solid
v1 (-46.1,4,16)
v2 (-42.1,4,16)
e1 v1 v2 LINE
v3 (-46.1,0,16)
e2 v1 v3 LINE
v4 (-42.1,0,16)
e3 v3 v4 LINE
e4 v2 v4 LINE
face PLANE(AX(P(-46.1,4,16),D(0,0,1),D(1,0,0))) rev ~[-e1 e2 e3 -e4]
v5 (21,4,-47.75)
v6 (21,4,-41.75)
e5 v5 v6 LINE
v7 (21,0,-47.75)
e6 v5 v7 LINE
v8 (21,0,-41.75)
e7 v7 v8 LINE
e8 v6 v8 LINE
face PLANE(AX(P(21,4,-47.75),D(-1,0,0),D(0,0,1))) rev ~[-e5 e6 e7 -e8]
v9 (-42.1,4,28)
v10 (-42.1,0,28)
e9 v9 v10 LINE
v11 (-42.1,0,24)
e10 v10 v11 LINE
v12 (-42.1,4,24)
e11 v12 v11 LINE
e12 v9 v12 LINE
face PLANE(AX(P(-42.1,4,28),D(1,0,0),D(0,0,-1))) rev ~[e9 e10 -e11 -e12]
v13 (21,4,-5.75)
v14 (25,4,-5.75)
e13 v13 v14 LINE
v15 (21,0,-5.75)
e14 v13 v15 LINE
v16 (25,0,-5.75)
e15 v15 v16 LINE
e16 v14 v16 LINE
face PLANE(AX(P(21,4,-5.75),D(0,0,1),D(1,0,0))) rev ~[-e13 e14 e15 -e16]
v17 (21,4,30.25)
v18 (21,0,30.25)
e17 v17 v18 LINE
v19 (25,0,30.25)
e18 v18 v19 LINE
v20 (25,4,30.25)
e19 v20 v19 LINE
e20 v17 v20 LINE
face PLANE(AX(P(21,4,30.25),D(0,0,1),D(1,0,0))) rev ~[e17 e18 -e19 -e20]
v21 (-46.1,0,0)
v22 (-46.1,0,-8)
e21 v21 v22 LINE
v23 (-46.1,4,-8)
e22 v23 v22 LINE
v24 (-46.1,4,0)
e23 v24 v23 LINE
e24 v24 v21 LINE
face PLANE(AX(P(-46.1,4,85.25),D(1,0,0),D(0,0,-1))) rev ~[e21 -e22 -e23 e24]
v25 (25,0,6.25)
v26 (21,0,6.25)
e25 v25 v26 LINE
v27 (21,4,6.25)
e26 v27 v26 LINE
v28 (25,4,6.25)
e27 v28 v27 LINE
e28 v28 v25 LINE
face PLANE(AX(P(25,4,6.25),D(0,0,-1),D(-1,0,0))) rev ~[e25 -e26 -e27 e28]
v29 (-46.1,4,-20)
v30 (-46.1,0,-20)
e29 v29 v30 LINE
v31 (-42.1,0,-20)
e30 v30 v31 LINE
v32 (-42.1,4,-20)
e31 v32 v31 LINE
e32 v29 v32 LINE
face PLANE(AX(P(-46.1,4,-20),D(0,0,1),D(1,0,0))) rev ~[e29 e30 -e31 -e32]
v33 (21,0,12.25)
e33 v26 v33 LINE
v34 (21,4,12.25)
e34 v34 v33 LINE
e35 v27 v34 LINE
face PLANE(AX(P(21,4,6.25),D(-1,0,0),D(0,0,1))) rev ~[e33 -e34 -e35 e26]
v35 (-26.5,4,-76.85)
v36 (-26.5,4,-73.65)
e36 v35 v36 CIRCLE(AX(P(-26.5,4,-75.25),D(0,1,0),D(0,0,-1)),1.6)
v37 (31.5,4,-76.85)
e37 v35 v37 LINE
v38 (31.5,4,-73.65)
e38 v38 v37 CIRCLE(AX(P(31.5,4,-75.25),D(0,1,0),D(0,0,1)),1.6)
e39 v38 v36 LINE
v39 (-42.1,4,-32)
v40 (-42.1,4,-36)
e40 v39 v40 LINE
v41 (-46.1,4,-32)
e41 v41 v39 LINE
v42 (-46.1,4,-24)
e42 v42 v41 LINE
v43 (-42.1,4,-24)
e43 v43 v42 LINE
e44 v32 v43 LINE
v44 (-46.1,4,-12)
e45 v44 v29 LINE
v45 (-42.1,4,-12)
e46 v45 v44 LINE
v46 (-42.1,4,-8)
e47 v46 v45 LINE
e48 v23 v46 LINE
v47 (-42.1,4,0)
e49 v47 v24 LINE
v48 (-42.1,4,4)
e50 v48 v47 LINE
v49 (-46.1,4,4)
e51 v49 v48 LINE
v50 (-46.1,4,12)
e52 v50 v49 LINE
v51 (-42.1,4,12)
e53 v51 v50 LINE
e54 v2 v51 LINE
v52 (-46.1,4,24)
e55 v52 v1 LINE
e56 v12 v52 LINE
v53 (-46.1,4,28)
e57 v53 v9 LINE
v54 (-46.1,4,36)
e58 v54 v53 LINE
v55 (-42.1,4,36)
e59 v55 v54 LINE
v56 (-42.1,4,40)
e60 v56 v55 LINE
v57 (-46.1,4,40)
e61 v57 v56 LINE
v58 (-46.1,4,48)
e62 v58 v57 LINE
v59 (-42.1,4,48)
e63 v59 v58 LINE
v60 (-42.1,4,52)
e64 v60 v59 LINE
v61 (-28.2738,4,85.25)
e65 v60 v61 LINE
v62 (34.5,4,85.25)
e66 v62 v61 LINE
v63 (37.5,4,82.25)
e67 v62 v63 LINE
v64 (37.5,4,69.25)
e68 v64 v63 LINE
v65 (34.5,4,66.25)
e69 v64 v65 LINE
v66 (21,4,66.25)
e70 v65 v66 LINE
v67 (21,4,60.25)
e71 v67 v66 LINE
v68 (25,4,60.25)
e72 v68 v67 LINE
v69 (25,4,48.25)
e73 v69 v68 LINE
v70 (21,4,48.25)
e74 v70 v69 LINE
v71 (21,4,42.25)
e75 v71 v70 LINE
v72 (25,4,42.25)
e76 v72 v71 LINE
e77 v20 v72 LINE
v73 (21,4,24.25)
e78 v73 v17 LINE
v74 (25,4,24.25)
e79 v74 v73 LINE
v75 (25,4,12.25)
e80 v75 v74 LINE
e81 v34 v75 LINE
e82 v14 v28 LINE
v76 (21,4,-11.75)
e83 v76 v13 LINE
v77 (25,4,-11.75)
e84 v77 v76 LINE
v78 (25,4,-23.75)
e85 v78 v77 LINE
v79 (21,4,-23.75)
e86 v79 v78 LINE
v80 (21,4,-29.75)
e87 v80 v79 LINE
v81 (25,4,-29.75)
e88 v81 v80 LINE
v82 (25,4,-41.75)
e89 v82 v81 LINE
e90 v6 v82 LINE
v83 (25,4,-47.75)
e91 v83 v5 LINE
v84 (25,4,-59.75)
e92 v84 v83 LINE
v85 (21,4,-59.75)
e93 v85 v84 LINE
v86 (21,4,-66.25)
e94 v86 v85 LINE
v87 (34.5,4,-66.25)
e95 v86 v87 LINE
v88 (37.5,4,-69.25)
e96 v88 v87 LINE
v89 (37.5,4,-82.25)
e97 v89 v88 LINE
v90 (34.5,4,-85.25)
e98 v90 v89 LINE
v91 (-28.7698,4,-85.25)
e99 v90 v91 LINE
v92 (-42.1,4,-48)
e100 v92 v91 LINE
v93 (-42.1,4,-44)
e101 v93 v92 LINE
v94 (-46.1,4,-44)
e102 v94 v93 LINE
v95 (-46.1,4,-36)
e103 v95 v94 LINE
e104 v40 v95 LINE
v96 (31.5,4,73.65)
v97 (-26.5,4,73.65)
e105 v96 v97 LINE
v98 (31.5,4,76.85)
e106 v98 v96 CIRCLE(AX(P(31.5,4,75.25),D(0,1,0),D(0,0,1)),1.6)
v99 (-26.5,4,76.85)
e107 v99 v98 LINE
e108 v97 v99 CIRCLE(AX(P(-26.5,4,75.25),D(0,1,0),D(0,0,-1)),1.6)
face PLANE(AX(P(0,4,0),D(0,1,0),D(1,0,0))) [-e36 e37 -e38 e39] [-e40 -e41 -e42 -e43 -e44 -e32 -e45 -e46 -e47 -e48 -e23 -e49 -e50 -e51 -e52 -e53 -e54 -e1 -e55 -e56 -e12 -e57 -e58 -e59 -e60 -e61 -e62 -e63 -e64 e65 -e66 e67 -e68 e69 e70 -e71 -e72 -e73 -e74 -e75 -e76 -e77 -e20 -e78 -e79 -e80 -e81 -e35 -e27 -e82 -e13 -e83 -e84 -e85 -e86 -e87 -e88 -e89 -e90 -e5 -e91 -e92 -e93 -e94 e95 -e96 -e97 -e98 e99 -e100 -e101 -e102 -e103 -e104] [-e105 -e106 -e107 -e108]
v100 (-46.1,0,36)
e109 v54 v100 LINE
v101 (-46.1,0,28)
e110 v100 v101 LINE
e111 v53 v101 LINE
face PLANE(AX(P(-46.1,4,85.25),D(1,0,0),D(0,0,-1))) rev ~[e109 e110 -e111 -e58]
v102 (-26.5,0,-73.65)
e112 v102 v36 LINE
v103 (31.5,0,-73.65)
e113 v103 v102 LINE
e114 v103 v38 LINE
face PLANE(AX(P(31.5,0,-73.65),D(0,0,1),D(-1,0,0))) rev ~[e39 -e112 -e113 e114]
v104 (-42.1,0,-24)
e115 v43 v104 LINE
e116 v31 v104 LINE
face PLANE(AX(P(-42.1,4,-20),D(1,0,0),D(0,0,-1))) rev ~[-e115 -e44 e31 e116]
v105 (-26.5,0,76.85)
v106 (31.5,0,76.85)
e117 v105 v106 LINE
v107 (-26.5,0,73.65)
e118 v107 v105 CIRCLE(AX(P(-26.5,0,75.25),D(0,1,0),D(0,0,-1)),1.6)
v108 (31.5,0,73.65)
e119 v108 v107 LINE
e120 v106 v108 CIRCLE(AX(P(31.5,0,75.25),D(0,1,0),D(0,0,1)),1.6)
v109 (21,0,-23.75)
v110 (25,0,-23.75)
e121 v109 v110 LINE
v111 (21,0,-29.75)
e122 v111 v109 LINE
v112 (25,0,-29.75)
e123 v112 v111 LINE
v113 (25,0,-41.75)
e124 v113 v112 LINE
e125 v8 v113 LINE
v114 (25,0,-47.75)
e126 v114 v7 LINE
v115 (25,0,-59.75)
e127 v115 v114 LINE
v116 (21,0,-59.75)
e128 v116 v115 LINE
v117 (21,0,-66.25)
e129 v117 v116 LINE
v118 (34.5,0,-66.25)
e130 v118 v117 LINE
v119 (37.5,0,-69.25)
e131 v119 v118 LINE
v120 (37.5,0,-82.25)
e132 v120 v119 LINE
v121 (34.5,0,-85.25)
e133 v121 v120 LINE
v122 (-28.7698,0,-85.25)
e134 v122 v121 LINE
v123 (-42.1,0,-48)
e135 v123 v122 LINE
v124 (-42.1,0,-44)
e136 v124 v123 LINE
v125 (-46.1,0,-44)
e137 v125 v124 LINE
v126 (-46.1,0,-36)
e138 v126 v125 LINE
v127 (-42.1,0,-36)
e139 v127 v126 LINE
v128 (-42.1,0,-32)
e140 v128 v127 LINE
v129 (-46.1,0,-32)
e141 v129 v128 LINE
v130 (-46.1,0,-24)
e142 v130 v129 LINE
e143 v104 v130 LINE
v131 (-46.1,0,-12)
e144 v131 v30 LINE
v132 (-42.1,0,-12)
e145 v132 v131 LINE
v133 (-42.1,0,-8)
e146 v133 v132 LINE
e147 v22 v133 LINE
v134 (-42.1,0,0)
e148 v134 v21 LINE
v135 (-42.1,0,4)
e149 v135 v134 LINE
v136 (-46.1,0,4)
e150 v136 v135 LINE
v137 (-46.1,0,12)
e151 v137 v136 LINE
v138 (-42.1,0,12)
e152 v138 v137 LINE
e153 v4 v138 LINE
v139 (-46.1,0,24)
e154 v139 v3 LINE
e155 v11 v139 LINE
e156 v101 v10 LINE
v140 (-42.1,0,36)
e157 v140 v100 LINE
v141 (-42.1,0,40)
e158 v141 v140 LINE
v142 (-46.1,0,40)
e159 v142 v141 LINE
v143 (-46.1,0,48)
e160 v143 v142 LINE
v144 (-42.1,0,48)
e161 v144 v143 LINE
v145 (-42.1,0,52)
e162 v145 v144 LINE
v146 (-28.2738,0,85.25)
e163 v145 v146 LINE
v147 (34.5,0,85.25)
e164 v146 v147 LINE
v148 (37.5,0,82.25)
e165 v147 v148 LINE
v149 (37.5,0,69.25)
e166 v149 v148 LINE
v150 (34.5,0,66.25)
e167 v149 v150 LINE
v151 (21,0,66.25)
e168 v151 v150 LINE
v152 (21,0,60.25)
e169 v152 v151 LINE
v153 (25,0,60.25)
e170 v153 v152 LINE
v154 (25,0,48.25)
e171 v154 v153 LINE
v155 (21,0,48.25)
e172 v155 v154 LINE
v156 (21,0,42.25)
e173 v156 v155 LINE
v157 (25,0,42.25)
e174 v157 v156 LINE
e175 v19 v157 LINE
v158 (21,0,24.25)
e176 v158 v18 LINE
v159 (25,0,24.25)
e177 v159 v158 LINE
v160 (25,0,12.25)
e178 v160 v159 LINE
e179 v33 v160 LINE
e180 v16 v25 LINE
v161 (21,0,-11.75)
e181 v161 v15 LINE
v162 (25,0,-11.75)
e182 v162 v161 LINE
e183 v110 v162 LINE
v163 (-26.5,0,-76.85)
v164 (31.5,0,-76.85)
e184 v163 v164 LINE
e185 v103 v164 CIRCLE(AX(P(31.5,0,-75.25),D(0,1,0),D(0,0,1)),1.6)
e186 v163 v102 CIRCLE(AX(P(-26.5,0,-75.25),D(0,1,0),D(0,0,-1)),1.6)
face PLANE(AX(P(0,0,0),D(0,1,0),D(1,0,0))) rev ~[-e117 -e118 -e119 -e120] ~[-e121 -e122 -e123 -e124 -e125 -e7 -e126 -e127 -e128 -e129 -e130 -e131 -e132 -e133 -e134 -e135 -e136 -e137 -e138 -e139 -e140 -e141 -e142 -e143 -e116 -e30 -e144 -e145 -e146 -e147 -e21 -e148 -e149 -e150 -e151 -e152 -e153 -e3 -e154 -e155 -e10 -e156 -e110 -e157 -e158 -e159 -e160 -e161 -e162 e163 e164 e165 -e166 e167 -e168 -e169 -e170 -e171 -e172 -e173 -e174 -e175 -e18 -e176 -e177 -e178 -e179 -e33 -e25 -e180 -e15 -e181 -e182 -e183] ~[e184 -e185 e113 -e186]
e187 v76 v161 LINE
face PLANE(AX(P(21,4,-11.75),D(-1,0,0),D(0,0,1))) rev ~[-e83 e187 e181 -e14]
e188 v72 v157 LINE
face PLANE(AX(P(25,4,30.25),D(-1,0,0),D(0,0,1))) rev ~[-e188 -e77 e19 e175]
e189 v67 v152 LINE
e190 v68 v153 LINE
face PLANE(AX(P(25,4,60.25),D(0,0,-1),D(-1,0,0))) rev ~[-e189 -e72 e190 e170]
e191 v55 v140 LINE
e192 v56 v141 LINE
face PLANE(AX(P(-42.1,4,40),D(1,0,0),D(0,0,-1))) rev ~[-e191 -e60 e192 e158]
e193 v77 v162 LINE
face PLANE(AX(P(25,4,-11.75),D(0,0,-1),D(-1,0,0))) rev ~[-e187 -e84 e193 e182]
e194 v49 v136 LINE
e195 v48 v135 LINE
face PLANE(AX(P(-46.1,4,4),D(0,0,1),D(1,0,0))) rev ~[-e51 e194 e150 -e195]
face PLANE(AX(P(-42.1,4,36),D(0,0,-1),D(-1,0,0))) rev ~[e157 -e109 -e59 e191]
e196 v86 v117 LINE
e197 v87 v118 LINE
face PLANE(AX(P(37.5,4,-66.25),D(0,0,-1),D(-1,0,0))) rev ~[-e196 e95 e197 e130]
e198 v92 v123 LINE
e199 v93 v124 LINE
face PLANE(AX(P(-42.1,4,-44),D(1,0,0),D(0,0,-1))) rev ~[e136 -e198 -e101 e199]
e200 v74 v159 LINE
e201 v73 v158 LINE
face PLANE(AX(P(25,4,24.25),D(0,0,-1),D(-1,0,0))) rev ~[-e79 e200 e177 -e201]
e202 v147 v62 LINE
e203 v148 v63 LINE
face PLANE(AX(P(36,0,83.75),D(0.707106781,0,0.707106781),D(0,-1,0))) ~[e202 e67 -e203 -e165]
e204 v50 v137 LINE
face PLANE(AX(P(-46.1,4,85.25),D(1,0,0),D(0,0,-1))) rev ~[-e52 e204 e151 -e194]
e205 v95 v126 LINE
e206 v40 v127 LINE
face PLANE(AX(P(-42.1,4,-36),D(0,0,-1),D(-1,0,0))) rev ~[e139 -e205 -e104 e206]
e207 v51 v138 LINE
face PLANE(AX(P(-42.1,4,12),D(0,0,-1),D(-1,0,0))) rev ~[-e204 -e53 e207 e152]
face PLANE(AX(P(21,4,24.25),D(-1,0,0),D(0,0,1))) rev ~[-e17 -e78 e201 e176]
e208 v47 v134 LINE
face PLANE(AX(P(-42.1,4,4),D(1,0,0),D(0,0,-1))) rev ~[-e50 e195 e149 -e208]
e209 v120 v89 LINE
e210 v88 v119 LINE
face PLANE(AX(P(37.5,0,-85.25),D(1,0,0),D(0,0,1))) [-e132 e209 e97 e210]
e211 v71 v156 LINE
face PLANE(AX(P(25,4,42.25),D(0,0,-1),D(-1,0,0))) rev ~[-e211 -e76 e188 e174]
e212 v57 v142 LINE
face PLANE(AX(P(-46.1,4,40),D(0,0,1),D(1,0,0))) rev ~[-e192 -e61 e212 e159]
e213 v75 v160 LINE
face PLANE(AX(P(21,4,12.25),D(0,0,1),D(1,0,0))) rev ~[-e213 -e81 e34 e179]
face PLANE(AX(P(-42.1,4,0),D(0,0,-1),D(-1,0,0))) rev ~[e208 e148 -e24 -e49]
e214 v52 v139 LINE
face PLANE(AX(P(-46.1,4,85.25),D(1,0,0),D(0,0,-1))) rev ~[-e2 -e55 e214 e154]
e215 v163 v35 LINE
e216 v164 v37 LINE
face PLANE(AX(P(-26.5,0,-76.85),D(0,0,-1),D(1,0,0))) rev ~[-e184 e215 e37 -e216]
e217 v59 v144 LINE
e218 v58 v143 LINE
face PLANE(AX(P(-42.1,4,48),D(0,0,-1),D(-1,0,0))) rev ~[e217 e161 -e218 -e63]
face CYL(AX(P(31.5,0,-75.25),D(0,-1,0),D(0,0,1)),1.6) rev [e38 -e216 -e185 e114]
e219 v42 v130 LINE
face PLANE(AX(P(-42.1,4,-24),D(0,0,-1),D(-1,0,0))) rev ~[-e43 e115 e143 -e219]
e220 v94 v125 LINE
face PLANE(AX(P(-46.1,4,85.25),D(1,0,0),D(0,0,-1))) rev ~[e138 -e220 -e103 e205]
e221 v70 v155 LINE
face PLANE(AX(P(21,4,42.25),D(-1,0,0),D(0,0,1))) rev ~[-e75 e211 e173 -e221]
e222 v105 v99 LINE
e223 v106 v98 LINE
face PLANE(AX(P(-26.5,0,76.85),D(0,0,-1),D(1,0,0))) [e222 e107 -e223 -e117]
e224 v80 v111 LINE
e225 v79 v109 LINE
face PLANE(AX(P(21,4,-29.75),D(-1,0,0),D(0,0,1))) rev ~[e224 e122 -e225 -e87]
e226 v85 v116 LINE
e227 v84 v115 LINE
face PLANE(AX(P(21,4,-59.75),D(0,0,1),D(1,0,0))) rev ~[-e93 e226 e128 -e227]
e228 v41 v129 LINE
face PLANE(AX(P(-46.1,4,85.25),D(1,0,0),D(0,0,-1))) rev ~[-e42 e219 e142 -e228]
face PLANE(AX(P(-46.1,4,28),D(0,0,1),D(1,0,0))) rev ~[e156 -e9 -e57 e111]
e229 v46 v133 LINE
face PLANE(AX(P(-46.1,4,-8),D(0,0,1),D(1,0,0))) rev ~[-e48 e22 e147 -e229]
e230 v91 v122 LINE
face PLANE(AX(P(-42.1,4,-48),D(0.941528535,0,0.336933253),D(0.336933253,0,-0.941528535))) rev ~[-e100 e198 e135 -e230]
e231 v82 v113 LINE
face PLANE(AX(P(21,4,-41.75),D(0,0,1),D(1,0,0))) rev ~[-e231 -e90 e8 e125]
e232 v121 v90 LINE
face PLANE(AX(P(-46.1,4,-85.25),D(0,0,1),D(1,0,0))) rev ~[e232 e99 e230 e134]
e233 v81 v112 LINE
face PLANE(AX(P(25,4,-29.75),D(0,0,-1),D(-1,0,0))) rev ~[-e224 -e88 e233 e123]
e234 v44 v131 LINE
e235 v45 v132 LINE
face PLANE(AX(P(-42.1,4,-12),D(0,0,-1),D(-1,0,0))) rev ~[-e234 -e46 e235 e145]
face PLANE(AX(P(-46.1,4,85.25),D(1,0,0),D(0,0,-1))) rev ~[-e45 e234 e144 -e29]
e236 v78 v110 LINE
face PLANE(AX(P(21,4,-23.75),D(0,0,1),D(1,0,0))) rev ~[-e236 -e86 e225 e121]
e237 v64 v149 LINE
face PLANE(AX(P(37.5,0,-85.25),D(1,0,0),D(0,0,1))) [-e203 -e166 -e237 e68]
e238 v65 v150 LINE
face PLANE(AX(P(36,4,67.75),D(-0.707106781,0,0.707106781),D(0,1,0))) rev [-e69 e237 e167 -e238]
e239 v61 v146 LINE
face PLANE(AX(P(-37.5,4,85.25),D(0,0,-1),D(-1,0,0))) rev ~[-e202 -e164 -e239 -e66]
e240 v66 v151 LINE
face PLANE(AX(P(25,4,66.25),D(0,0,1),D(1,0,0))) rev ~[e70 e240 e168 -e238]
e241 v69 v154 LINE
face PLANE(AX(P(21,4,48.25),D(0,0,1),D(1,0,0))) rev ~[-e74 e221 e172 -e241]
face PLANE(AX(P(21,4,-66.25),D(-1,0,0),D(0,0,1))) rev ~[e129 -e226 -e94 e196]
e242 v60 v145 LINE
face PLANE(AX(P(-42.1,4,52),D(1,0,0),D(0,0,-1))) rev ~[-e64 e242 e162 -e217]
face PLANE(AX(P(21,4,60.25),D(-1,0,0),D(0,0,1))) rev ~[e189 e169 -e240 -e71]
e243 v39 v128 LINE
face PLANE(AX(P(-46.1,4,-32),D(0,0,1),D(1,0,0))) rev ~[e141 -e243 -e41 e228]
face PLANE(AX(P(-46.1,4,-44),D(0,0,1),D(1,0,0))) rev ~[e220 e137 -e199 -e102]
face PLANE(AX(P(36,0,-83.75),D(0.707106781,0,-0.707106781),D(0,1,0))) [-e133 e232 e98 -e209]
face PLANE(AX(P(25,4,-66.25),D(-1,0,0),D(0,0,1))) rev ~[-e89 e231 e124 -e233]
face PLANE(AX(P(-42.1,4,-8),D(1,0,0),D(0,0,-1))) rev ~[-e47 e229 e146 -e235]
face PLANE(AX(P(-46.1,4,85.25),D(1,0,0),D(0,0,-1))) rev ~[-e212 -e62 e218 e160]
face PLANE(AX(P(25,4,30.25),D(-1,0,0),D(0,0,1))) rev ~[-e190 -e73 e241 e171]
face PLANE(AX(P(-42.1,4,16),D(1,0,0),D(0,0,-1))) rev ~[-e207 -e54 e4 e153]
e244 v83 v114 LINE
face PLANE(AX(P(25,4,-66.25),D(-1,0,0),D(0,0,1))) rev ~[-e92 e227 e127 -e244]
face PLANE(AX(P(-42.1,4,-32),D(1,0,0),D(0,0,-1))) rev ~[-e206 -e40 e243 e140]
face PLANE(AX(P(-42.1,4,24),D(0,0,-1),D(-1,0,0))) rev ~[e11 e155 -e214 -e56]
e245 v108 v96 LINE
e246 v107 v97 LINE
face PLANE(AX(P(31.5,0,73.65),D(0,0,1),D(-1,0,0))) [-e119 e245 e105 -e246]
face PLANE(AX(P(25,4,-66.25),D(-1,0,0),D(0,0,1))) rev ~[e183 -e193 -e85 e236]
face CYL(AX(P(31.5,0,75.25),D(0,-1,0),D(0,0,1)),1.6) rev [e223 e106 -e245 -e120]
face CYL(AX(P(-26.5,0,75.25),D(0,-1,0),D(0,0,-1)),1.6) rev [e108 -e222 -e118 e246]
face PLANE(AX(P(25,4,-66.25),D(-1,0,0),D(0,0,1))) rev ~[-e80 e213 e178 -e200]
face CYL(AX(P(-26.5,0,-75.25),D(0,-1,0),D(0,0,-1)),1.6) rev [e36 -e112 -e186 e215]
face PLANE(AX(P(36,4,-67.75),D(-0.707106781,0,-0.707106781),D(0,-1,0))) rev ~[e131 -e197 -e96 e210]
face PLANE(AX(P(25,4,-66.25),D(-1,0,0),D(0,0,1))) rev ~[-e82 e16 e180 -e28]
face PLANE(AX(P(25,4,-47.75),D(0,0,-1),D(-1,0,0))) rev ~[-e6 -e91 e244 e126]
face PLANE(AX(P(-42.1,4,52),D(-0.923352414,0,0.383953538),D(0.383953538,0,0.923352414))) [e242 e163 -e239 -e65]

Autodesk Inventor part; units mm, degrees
ref_plane "YZ Plane" through (0, 0, 0) normal (1, 0, 0) x (0, 1, 0)
ref_plane "XZ Plane" through (0, 0, 0) normal (0, 1, 0) x (-1, 0, 0)
ref_plane "XY Plane" through (0, 0, 0) normal (0, 0, 1) x (1, 0, 0)
sketch "Эскиз1" plane through (0, 0, 0) normal (0, 1, 0) x (-1, 0, 0)
  line L0 (-37.5, 85.25) -> (37.5, 85.25)
  line L1 (37.5, 85.25) -> (37.5, -85.25)
  line L2 (37.5, -85.25) -> (-37.5, -85.25)
  line L3 (-37.5, -85.25) -> (-37.5, 85.25)
  line L4 (-37.5, 85.25) -> (37.5, -85.25) construction
  line L5 (37.5, 85.25) -> (-37.5, -85.25) construction
  circle A0 centre (21.5, 75.25) radius 1.6 construction
  circle A1 centre (-26.5, 75.25) radius 1.6 construction
  line L6 (37.5, 0) -> (0, 0) construction
  line L7 (-37.5, -85.25) -> (37.5, 85.25) construction
  circle A2 centre (21.5, -75.25) radius 1.6 construction
  circle A3 centre (-26.5, -75.25) radius 1.6 construction
  line L8 (37.5, 75.25) -> (-37.5, 75.25) construction
  line L9 (28.1, 75.25) -> (-33.1, 75.25) construction
  line L10 (26.5, 76.85) -> (-31.5, 76.85)
  line L11 (-31.5, 73.65) -> (26.5, 73.65)
  arc A4 (26.5, 73.65) -> (26.5, 76.85) centre (26.5, 75.25) ccw
  arc A5 (-31.5, 76.85) -> (-31.5, 73.65) centre (-31.5, 75.25) ccw
  line L12 (26.5, -76.85) -> (-31.5, -76.85)
  line L13 (-31.5, -73.65) -> (26.5, -73.65)
  arc A6 (26.5, -76.85) -> (26.5, -73.65) centre (26.5, -75.25) ccw
  arc A7 (-31.5, -73.65) -> (-31.5, -76.85) centre (-31.5, -75.25) ccw
  point P0 (-2.5, 75.25)
  point P1 (-33.1, -75.25)
  dimension "d0" = 170.5
  dimension "d1" = 75
  dimension "d2" = 3.2
  dimension "d4" = 10
  dimension "d5" = 3.2
  dimension "d7" = 10
  dimension "d29" = 48
  dimension "d30" = 3.2
  dimension "d32" = 5
  dimension "d33" = 5
  dimension "d59" = 6
  dimension "d60" = 10
extrude "Выдавливание1" add sketch "Эскиз1" along normal blind 4
sketch "Эскиз2" plane through (0, 4, 0) normal (0, 1, 0) x (1, 0, 0)
  line L0 (33, 66.25) -> (33, -66.25) construction
  line L1 (-37.5, -85.25) -> (37.5, -85.25) projected
  line L2 (37.5, 85.25) -> (-37.5, 85.25) projected
  line L3 (21, -66.25) -> (25, -66.25)
  line L4 (25, -66.25) -> (25, -60.25)
  line L5 (25, -60.25) -> (21, -60.25)
  line L6 (21, -60.25) -> (21, -66.25)
  line L7 (21, -48.25) -> (25, -48.25)
  line L8 (21, -42.25) -> (21, -48.25)
  line L9 (25, -48.25) -> (25, -42.25)
  line L10 (25, -42.25) -> (21, -42.25)
  line L11 (21, -30.25) -> (25, -30.25)
  line L12 (21, -24.25) -> (21, -30.25)
  line L13 (25, -30.25) -> (25, -24.25)
  line L14 (25, -24.25) -> (21, -24.25)
  line L15 (21, -12.25) -> (25, -12.25)
  line L16 (21, -6.25) -> (21, -12.25)
  line L17 (25, -12.25) -> (25, -6.25)
  line L18 (25, -6.25) -> (21, -6.25)
  line L19 (21, 5.75) -> (25, 5.75)
  line L20 (21, 11.75) -> (21, 5.75)
  line L21 (25, 5.75) -> (25, 11.75)
  line L22 (25, 11.75) -> (21, 11.75)
  line L23 (21, 23.75) -> (25, 23.75)
  line L24 (21, 29.75) -> (21, 23.75)
  line L25 (25, 23.75) -> (25, 29.75)
  line L26 (25, 29.75) -> (21, 29.75)
  line L27 (21, 41.75) -> (25, 41.75)
  line L28 (21, 47.75) -> (21, 41.75)
  line L29 (25, 41.75) -> (25, 47.75)
  line L30 (25, 47.75) -> (21, 47.75)
  line L31 (21, 59.75) -> (25, 59.75)
  line L32 (25, 59.75) -> (25, 66.25)
  line L33 (25, 66.25) -> (21, 66.25)
  line L34 (21, 66.25) -> (21, 59.75)
  point P0 (27, -66.25)
  dimension "d14" = 19
  dimension "d16" = 4
  dimension "d17" = 6
  dimension "d20" = 18
  dimension "d34" = 4
  dimension "d35" = 6.5
  dimension "d36" = 12
extrude "Выдавливание2" cut sketch "Эскиз2" against normal blind 10
sketch "Эскиз3" plane through (0, 4, 0) normal (0, 1, 0) x (1, 0, 0)
  line L0 (37.5, -85.25) -> (37.5, 85.25) projected
  line L1 (37.5, 66.25) -> (25, 66.25)
  line L2 (25, 66.25) -> (25, -66.25)
  line L3 (25, -66.25) -> (37.5, -66.25)
  line L4 (37.5, -66.25) -> (37.5, 66.25)
  line L5 (-26.5, -73.65) -> (31.5, -73.65) projected
  line L6 (31.5, 73.65) -> (-26.5, 73.65) projected
  line L7 (25, -24.25) -> (25, -30.25) projected
  point P0 (0, 0)
  point P1 (31.25, 66.25)
  point P2 (25, -27.25)
  point P3 (37.5, -66.25)
  point P4 (25, -66.25)
  point P5 (25, 66.25)
  dimension "d39" = 0
extrude "Выдавливание3" cut sketch "Эскиз3" against normal blind 10
chamfer "Фаска1" distance 3 angle 45 4 edges at (37.5, 2, 66.25) (37.5, 2, -66.25) (37.5, 2, -85.25) (37.5, 2, 85.25)
sketch "Эскиз5" plane through (0, 4, 0) normal (0, 1, 0) x (1, 0, 0)
  line L0 (-37.5, 85.25) -> (-37.5, -85.25) projected
  line L1 (-37.5, -85.25) -> (-46.1, -85.25)
  line L2 (-46.1, -85.25) -> (-46.1, 85.25)
  line L3 (-46.1, 85.25) -> (-37.5, 85.25)
  line L4 (-37.5, 85.25) -> (-37.5, -85.25)
  point P0 (0, 0)
  dimension "d61" = 8.6
extrude "Выдавливание5" add sketch "Эскиз5" against normal blind 4
sketch "Эскиз6" plane through (0, 4, 0) normal (0, 1, 0) x (1, 0, 0)
  line L0 (-46.1, -60) -> (-42.1, -60) construction
  line L1 (-42.1, 60) -> (-46.1, 60) construction
  line L2 (-46.1, 60) -> (-46.1, -60) construction
  line L3 (-46.1, -60) -> (-42.1, 60) construction
  line L4 (-42.1, -60) -> (-46.1, 60) construction
  line L5 (-46.1, 85.25) -> (-46.1, -85.25) construction
  line L6 (-42.1, -48) -> (-46.1, -48)
  line L7 (-46.1, -48) -> (-46.1, -52)
  line L8 (-46.1, -52) -> (-42.1, -52)
  line L9 (-42.1, -52) -> (-42.1, -48)
  line L10 (-42.1, -40) -> (-42.1, -36)
  line L11 (-46.1, -40) -> (-42.1, -40)
  line L12 (-46.1, -36) -> (-46.1, -40)
  line L13 (-42.1, -36) -> (-46.1, -36)
  line L14 (-42.1, -28) -> (-42.1, -24)
  line L15 (-46.1, -28) -> (-42.1, -28)
  line L16 (-46.1, -24) -> (-46.1, -28)
  line L17 (-42.1, -24) -> (-46.1, -24)
  line L18 (-42.1, -16) -> (-42.1, -12)
  line L19 (-46.1, -16) -> (-42.1, -16)
  line L20 (-46.1, -12) -> (-46.1, -16)
  line L21 (-42.1, -12) -> (-46.1, -12)
  line L22 (-42.1, -4) -> (-42.1, 0)
  line L23 (-46.1, -4) -> (-42.1, -4)
  line L24 (-46.1, 0) -> (-46.1, -4)
  line L25 (-42.1, 0) -> (-46.1, 0)
  line L26 (-42.1, 8) -> (-42.1, 12)
  line L27 (-46.1, 8) -> (-42.1, 8)
  line L28 (-46.1, 12) -> (-46.1, 8)
  line L29 (-42.1, 12) -> (-46.1, 12)
  line L30 (-42.1, 20) -> (-42.1, 24)
  line L31 (-46.1, 20) -> (-42.1, 20)
  line L32 (-46.1, 24) -> (-46.1, 20)
  line L33 (-42.1, 24) -> (-46.1, 24)
  line L34 (-42.1, 32) -> (-42.1, 36)
  line L35 (-46.1, 32) -> (-42.1, 32)
  line L36 (-46.1, 36) -> (-46.1, 32)
  line L37 (-42.1, 36) -> (-46.1, 36)
  line L38 (-42.1, 44) -> (-42.1, 48)
  line L39 (-46.1, 44) -> (-42.1, 44)
  line L40 (-46.1, 48) -> (-46.1, 44)
  line L41 (-42.1, 48) -> (-46.1, 48)
  point P0 (0, 0)
  point P1 (-44.1, 0)
  point P2 (-46.1, 0)
  dimension "d64" = 4
  dimension "d65" = 120
  dimension "d66" = 4
  dimension "d67" = 4
  dimension "d68" = 8
  dimension "d71" = 12
extrude "Выдавливание6" cut sketch "Эскиз6" against normal blind 4
sketch "Эскиз7" plane through (0, 4, 0) normal (0, 1, 0) x (1, 0, 0)
  line L0 (-42.1, -52) -> (-42.1, -48) projected
  line L1 (-42.1, -52) -> (-28.2738, -85.25)
  line L2 (34.5, -85.25) -> (-46.1, -85.25) projected
  line L3 (-46.1, -52) -> (-46.1, -85.25) projected
  line L4 (-46.1, -85.25) -> (-28.2738, -85.25)
  line L5 (-46.1, -85.25) -> (-46.1, -52)
  line L6 (-46.1, -52) -> (-42.1, -52)
  arc A0 (-26.5, -73.65) -> (-26.5, -76.85) centre (-26.5, -75.25) ccw projected
  line L7 (0, 0) -> (-4.0175, 0)
  line L8 (-42.1, 48) -> (-42.1, 44) projected
  line L9 (-42.1, 48) -> (-28.7698, 85.25)
  line L10 (34.5, 85.25) -> (-46.1, 85.25) projected
  line L11 (-46.1, 85.25) -> (-28.7698, 85.25)
  line L12 (-46.1, 85.25) -> (-46.1, 48)
  line L13 (-46.1, 48) -> (-42.1, 48)
  arc A1 (-26.5, 76.85) -> (-26.5, 73.65) centre (-26.5, 75.25) ccw projected
  point P0 (-28.1, -75.25)
  point P1 (-28.1, 75.25)
  dimension "d78" = 4
  dimension "d81" = 4
extrude "Выдавливание7" cut sketch "Эскиз7" against normal blind 4
properties part number "ребро_электроника"
